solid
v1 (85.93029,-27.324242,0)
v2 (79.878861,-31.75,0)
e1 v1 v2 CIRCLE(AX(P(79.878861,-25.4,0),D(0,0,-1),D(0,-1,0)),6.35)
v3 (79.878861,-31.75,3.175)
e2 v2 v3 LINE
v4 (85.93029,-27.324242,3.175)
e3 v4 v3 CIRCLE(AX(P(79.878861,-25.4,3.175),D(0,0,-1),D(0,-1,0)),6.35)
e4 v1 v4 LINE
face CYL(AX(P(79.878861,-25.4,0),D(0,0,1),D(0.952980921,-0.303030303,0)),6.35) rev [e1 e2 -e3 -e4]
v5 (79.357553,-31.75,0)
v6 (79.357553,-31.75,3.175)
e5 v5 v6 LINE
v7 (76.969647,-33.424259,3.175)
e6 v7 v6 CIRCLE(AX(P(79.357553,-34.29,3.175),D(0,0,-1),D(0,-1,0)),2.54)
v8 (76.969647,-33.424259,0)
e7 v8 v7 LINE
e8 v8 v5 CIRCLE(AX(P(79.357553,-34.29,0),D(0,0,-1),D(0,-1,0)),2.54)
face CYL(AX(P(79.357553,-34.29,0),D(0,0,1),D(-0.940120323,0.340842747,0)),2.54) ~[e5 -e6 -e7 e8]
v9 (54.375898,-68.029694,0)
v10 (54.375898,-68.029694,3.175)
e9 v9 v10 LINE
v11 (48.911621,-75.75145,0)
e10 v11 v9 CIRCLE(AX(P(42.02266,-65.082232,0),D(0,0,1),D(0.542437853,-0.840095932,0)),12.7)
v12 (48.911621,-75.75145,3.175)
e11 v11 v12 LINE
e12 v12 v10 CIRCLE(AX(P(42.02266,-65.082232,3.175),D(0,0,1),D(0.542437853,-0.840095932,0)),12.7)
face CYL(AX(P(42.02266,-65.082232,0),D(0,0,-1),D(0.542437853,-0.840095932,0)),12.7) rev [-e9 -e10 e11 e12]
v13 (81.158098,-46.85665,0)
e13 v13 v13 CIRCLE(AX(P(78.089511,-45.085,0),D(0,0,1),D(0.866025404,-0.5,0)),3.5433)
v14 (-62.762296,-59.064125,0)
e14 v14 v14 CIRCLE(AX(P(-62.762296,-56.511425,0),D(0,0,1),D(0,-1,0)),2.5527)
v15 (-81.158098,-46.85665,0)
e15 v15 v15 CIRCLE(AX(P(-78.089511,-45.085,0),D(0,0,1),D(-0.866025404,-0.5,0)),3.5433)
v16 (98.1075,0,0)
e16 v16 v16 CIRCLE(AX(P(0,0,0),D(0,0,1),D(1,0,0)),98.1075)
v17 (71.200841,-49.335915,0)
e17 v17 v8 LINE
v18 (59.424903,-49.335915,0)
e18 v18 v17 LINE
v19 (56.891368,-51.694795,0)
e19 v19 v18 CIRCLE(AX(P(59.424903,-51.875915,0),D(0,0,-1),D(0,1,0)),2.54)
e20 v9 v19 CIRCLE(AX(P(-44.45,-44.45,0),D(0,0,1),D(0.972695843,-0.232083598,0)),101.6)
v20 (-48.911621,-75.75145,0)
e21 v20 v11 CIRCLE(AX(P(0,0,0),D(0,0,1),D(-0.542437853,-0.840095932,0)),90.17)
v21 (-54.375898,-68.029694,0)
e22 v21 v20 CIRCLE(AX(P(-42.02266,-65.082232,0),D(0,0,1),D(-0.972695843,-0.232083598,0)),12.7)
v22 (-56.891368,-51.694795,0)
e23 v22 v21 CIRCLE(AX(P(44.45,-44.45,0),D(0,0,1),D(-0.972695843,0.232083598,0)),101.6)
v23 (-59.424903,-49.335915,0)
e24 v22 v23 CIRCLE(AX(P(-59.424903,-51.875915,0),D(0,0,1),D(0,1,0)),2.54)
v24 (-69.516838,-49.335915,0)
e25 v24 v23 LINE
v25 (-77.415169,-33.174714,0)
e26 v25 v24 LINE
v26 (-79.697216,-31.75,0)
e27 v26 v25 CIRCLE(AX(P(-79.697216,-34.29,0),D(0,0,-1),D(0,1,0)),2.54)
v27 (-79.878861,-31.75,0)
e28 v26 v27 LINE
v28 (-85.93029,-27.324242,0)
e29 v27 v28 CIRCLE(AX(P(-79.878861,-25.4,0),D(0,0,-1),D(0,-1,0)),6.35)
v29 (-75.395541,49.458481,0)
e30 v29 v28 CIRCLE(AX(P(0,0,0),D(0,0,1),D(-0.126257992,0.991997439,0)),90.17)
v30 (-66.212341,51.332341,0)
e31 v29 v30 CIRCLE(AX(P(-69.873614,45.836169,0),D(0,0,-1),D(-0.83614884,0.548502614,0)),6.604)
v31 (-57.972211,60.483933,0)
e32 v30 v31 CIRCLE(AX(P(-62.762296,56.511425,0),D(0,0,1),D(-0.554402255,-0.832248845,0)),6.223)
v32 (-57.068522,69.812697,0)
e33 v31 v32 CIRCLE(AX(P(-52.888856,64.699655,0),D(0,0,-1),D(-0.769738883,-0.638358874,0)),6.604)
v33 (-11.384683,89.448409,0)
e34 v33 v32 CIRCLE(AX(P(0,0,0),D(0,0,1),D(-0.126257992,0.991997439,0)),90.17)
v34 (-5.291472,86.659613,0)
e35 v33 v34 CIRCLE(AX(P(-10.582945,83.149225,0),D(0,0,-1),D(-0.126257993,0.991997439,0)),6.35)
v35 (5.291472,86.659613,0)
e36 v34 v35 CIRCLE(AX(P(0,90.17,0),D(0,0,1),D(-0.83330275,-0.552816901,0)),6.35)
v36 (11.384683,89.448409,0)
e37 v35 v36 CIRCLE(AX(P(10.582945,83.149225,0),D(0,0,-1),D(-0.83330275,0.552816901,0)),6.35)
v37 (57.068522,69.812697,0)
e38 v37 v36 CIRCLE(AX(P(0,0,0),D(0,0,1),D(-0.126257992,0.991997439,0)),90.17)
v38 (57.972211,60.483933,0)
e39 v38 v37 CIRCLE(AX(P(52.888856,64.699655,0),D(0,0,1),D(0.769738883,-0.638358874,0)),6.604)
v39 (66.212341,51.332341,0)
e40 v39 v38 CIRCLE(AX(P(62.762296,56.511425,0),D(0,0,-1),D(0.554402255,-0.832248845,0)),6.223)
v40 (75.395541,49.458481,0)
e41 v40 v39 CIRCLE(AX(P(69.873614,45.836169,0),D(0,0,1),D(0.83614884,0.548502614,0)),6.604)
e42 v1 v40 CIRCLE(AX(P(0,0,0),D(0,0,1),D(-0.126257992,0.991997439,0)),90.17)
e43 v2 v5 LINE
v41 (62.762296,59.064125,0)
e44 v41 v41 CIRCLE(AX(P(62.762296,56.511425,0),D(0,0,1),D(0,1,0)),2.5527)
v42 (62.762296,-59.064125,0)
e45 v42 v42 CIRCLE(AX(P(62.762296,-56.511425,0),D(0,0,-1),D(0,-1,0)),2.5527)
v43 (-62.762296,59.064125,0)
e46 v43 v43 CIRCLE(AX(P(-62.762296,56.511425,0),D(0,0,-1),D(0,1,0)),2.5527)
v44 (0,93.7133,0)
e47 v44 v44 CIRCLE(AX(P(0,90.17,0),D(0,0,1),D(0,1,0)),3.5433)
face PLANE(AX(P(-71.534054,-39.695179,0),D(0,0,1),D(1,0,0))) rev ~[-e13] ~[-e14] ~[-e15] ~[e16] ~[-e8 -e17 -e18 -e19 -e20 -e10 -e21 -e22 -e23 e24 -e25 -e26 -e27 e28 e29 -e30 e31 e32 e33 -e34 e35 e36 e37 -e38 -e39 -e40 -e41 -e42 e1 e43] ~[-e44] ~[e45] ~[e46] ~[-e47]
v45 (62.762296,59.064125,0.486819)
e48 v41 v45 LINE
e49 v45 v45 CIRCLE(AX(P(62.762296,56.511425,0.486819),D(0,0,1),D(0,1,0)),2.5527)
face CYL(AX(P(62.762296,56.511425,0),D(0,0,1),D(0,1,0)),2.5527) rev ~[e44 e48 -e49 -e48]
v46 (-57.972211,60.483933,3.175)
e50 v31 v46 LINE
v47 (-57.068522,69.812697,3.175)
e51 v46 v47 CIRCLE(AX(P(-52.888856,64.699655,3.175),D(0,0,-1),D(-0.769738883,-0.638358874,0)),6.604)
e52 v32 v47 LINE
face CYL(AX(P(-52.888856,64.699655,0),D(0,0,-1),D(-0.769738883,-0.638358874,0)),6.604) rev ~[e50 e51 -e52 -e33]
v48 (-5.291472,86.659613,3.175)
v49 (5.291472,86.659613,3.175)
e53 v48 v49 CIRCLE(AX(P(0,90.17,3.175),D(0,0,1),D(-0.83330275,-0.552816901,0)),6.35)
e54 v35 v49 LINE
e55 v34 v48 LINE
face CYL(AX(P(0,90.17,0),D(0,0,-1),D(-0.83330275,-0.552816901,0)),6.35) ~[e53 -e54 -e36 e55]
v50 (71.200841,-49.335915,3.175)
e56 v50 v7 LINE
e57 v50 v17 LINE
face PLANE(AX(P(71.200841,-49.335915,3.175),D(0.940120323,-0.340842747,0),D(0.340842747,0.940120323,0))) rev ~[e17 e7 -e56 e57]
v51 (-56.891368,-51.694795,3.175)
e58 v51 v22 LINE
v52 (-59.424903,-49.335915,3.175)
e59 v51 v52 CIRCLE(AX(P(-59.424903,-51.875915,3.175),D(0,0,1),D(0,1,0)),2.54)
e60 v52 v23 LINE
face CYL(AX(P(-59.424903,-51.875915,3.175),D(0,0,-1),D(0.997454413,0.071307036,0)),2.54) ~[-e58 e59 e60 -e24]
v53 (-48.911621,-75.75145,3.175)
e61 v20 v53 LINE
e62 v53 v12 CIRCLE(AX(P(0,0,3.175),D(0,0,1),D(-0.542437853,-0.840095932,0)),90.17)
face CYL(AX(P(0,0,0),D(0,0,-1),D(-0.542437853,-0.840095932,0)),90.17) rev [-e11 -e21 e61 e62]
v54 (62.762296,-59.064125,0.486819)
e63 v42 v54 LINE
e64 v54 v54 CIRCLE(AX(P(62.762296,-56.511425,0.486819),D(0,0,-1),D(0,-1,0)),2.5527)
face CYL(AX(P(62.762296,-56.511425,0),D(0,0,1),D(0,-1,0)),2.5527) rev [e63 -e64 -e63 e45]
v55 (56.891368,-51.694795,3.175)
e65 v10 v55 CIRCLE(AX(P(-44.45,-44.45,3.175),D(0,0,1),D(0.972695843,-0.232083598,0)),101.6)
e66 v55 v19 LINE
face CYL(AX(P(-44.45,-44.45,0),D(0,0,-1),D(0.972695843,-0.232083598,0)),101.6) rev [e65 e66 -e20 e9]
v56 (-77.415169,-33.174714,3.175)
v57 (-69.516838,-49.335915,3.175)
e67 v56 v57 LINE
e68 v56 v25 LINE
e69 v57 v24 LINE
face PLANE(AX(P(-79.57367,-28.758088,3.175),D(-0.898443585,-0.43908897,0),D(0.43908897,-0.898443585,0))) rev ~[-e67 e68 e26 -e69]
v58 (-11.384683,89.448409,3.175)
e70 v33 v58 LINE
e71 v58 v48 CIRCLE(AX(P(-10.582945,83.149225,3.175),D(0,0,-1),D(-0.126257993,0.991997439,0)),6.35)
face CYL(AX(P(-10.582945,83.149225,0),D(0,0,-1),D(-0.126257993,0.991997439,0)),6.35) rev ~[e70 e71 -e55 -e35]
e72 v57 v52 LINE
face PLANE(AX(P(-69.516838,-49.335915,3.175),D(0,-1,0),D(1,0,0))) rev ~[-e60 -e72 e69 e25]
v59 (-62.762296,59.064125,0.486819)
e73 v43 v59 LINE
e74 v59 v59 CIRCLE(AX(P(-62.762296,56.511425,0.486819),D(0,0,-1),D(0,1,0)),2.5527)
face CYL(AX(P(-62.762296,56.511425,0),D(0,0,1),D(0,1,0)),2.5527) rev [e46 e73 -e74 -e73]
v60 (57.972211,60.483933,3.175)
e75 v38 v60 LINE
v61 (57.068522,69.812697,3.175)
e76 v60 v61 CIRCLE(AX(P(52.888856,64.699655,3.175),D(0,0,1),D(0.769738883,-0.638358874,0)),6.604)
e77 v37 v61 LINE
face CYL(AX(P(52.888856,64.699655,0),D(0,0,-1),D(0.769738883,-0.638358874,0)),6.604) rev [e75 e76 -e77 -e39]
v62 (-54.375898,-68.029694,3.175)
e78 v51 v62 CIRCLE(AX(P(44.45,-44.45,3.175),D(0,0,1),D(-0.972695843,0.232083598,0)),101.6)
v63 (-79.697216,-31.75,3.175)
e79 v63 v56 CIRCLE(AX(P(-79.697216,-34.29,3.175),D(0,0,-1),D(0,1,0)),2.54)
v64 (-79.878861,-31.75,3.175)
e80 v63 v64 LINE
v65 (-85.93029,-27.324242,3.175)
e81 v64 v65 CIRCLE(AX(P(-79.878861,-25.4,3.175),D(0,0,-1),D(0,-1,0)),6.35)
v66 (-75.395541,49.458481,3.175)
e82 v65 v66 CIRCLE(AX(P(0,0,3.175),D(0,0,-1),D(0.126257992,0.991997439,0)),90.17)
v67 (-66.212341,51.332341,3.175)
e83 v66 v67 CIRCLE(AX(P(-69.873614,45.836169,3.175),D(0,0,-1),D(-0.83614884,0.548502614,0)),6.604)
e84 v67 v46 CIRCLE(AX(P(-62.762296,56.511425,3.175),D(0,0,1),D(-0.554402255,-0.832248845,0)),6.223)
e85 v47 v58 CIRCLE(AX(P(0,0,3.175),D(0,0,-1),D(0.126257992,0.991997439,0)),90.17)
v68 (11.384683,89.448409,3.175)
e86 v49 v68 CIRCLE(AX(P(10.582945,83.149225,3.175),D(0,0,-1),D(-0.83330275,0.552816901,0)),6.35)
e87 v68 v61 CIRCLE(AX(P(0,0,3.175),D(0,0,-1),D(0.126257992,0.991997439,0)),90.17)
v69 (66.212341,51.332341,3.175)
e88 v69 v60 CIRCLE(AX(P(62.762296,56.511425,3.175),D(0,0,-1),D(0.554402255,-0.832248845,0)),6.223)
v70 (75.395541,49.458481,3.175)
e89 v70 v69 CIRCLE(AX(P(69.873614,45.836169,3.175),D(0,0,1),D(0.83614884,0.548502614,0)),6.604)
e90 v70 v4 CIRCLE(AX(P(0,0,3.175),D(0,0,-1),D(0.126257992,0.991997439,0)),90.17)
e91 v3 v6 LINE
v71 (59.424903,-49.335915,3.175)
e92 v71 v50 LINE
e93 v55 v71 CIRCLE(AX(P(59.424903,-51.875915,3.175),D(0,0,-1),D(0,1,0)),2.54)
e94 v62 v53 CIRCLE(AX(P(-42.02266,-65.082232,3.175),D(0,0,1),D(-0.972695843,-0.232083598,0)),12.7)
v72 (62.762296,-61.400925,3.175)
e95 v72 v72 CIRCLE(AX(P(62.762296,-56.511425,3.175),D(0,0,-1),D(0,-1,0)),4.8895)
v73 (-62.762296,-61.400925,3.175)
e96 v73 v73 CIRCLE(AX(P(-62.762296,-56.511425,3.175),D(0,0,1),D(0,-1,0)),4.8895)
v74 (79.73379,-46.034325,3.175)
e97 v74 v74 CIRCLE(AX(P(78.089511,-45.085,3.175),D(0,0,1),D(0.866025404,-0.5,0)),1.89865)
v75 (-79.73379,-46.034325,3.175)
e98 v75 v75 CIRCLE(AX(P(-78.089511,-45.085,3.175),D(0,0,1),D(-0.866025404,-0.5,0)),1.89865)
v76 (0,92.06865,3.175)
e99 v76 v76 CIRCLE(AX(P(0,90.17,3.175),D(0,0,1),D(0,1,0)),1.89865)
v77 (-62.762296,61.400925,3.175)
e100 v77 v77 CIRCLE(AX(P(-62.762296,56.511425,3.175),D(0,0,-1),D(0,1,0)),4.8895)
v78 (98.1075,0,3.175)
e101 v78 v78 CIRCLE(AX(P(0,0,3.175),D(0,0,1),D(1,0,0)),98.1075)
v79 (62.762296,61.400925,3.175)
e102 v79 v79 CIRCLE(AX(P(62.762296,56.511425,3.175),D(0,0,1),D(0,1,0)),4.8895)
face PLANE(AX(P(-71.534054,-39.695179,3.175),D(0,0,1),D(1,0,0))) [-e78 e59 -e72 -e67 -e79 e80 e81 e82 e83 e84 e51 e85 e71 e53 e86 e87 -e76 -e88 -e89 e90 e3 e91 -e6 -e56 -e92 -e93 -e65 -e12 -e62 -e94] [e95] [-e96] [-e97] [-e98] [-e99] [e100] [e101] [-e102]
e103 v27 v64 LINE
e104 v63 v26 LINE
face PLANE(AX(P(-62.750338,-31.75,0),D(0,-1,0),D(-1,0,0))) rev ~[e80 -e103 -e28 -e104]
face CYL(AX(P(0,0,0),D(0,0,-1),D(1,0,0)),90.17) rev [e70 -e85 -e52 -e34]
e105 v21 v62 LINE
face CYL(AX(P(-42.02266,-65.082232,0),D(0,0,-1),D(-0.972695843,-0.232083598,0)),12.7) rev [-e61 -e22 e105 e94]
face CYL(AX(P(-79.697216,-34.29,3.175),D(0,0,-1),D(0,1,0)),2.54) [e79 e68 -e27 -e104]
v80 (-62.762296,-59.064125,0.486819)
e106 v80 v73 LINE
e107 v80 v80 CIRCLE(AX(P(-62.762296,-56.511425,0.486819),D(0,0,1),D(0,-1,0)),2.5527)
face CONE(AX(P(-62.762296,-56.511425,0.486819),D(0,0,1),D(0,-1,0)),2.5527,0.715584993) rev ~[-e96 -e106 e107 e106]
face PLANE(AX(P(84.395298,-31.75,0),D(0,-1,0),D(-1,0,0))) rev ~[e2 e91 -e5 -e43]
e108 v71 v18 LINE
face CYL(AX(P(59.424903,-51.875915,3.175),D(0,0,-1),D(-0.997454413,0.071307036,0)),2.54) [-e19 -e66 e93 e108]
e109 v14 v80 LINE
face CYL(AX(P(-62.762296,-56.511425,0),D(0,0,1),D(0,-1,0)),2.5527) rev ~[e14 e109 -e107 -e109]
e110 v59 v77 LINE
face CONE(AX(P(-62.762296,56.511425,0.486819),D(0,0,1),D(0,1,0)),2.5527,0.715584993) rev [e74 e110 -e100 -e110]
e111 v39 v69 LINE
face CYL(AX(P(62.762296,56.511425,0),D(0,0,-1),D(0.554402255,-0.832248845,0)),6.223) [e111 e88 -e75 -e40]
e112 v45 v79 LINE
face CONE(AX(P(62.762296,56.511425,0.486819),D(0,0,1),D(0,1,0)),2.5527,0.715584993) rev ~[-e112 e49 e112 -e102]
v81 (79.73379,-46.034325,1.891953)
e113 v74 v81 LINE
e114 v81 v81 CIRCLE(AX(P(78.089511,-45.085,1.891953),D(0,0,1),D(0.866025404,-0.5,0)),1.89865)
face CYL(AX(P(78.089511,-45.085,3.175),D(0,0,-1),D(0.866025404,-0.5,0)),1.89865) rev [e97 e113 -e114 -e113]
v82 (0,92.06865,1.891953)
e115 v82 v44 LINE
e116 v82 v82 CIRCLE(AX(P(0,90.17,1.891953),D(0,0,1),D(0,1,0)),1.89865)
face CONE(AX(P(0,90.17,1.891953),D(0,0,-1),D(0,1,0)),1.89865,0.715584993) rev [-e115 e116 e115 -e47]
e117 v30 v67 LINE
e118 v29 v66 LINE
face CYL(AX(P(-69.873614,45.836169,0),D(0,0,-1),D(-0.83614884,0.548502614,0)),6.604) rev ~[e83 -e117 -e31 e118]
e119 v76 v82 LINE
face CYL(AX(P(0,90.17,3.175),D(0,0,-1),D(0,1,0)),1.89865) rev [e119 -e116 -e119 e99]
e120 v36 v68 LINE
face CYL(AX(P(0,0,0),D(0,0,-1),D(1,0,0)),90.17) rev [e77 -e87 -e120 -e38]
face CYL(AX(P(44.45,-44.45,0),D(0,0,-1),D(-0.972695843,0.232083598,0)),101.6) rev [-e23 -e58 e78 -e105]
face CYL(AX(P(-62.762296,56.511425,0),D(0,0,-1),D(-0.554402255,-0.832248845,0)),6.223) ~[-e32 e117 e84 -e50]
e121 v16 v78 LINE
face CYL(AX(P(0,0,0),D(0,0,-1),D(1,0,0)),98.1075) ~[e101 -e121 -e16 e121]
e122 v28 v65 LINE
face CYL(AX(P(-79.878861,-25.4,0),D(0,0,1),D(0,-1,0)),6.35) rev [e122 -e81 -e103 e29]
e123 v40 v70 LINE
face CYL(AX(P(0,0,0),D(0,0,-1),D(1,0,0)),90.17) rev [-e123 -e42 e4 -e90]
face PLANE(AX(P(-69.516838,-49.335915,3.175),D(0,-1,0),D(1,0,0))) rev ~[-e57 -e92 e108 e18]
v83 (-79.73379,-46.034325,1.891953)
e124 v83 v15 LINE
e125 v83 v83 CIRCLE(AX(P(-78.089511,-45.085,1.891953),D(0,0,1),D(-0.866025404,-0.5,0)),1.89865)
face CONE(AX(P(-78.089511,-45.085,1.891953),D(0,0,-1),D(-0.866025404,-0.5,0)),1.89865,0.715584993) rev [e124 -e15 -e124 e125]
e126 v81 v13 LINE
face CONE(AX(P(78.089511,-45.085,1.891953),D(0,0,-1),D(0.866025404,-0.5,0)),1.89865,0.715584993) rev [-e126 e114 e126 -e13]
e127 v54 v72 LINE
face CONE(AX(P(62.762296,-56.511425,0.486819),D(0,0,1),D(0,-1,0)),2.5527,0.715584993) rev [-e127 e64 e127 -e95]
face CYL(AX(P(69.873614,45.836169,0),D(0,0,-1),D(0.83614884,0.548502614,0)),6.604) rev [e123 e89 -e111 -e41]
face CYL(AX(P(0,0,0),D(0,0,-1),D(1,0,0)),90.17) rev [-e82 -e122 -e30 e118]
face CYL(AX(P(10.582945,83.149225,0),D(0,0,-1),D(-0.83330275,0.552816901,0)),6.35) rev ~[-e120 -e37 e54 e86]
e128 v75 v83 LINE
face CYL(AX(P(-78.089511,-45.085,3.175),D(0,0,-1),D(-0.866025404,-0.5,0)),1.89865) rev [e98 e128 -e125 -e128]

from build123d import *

# Parameters (mm, degrees)
SKETCH1_R                 = 98.1075
SKETCH1_R_2               = 90.17
BOSS_EXTRUDE1_DEPTH       = 3.175
BOSS_EXTRUDE2_START       = -3.175
BOSS_EXTRUDE2_DEPTH       = 3.175
BOSS_EXTRUDE3_START       = -3.175
BOSS_EXTRUDE3_DEPTH       = 3.175
BOSS_EXTRUDE5_DEPTH       = 3.175
MIRROR2_START             = -3.175
MIRROR2_COPY_1_DEPTH      = 3.175
CIRPATTERN1_COUNT         = 3
FILLET1_R                 = 3.175
BOSS_EXTRUDE6_START       = -3.175
BOSS_EXTRUDE6_DEPTH       = 3.175
FILLET2_R                 = 6.35
F_6_CLEARANCE_HOLE1_D     = 3.7973
F_6_CLEARANCE_HOLE1_DEPTH = 6.35
F_6_CLEARANCE_HOLE1_TIP   = 1.140824014
CUT_EXTRUDE1_DEPTH        = 139.781280213
FILLET3_R                 = 2.54


with BuildPart() as part:
    # Sketch1 → Boss-Extrude1 (new body)
    with BuildSketch(Plane.XY):
        Circle(SKETCH1_R)
        Circle(SKETCH1_R_2, mode=Mode.SUBTRACT)
    extrude(amount=BOSS_EXTRUDE1_DEPTH)

    # Sketch2 → Boss-Extrude2 (add)
    with BuildSketch(Plane.XY.offset(3.175).offset(BOSS_EXTRUDE2_START)):
        with BuildLine():
            ThreePointArc((-5.291472464, 86.659612676), (0, 83.82), (5.291472464, 86.659612676))
            ThreePointArc((5.291472464, 86.659612676), (7.940261692, 88.923194985), (11.38468318, 89.448409091))
            ThreePointArc((11.38468318, 89.448409091), (0, 90.17), (-11.38468318, 89.448409091))
            ThreePointArc((-11.38468318, 89.448409091), (-7.940261692, 88.923194985), (-5.291472464, 86.659612676))
        make_face()
    boss_extrude2 = extrude(amount=BOSS_EXTRUDE2_DEPTH)

    # Sketch9 → Boss-Extrude3 (add)
    with BuildSketch(Plane.XY.offset(3.175).offset(BOSS_EXTRUDE3_START)):
        with BuildLine():
            ThreePointArc((66.212341469, -51.332340799), (58.137705987, -52.347425597), (57.972211169, -60.483932635))
            ThreePointArc((57.972211169, -60.483932635), (59.462085873, -65.336411741), (57.068521986, -69.812697257))
            ThreePointArc((57.068521986, -69.812697257), (67.009368913, -60.335506775), (75.395540901, -49.458480691))
            ThreePointArc((75.395540901, -49.458480691), (71.1939725, -52.306831631), (66.212341469, -51.332340799))
        make_face()
    boss_extrude3 = extrude(amount=BOSS_EXTRUDE3_DEPTH)

    # Sketch11 → Boss-Extrude5 (add)
    with BuildSketch(Plane.XY):
        with BuildLine():
            ThreePointArc((-60.552516274, -19.396575562), (-63.5, -44.45), (-60.552516274, -69.503424438))
            ThreePointArc((-60.552516274, -69.503424438), (-57.572960629, -76.08635224), (-52.356101558, -81.086059404))
            ThreePointArc((-52.356101558, -81.086059404), (0, -96.52), (52.356101558, -81.086059404))
            ThreePointArc((52.356101558, -81.086059404), (57.572960629, -76.08635224), (60.552516274, -69.503424438))
            ThreePointArc((60.552516274, -69.503424438), (63.5, -44.45), (60.552516274, -19.396575562))
            ThreePointArc((60.552516274, -19.396575562), (57.572960629, -12.81364776), (52.356101558, -7.813940596))
            ThreePointArc((52.356101558, -7.813940596), (0, 7.62), (-52.356101558, -7.813940596))
            ThreePointArc((-52.356101558, -7.813940596), (-57.572960629, -12.81364776), (-60.552516274, -19.396575562))
        make_face()
        with BuildLine():
            ThreePointArc((48.911621193, -13.148549768), (0, 1.27), (-48.911621193, -13.148549768))
            ThreePointArc((-48.911621193, -13.148549768), (-52.38952724, -16.481687877), (-54.37589767, -20.870306412))
            ThreePointArc((-54.37589767, -20.870306412), (-57.15, -44.45), (-54.37589767, -68.029693588))
            ThreePointArc((-54.37589767, -68.029693588), (-52.38952724, -72.418312123), (-48.911621193, -75.751450232))
            ThreePointArc((-48.911621193, -75.751450232), (0, -90.17), (48.911621193, -75.751450232))
            ThreePointArc((48.911621193, -75.751450232), (52.38952724, -72.418312123), (54.37589767, -68.029693588))
            ThreePointArc((54.37589767, -68.029693588), (57.15, -44.45), (54.37589767, -20.870306412))
            ThreePointArc((54.37589767, -20.870306412), (52.38952724, -16.481687877), (48.911621193, -13.148549768))
        make_face(mode=Mode.SUBTRACT)
    extrude(amount=BOSS_EXTRUDE5_DEPTH)

    # Sketch3 → CSK for #10 Flat Head Machine Screw1 (revolve, cut)
    with BuildSketch(Plane(origin=(62.762296236, -56.51142536, 3.175), x_dir=(0, -1, 0), z_dir=(1, 0, 0))):
        Polygon((0, 0), (0, 3.175), (2.5527, 3.175), (2.5527, 2.688180894), (4.8895, 0), align=None)
    csk_for_10_flat_head_machine_screw1 = revolve(axis=Axis((62.762296236, -56.51142536, 9.525), (0, 0, -1)), mode=Mode.SUBTRACT)

    # Sketch7 → CSK for #6 Flat Head Machine Screw1 (revolve, cut)
    with BuildSketch(Plane(origin=(0, 90.17, 0), x_dir=(0, 1, 0), z_dir=(1, 0, 0))):
        Polygon((0, 0), (0, 3.175), (1.89865, 3.175), (1.89865, 1.891953401), (3.5433, 0), align=None)
    csk_for_6_flat_head_machine_screw1 = revolve(axis=Axis((0, 90.17, -6.35), (0, 0, 1)), mode=Mode.SUBTRACT)

    # Mirror1: Boss-Extrude3, CSK for #10 Flat Head Machine Screw1 across plane
    add(boss_extrude3.mirror(Plane.ZX))
    add(csk_for_10_flat_head_machine_screw1.mirror(Plane.ZX), mode=Mode.SUBTRACT)

    # Mirror2: Boss-Extrude3, CSK for #10 Flat Head Machine Screw1 across plane
    add(boss_extrude3.mirror(Plane(origin=(0, 0, 0), x_dir=(0, 0, 1), z_dir=(1, 0, 0))))
    add(csk_for_10_flat_head_machine_screw1.mirror(Plane(origin=(0, 0, 0), x_dir=(0, 0, 1), z_dir=(1, 0, 0))), mode=Mode.SUBTRACT)

    # Mirror2 copy 1 sketch → Mirror2 copy 1 (add)
    with BuildSketch(Plane(origin=(0, 0, 3.175), x_dir=(-1, 0, 0), z_dir=(0, 0, 1)).offset(MIRROR2_START)):
        with BuildLine():
            ThreePointArc((66.212341469, -51.332340799), (58.137705987, -52.347425597), (57.972211169, -60.483932635))
            ThreePointArc((57.972211169, -60.483932635), (59.462085873, -65.336411741), (57.068521986, -69.812697257))
            ThreePointArc((57.068521986, -69.812697257), (67.009368913, -60.335506775), (75.395540901, -49.458480691))
            ThreePointArc((75.395540901, -49.458480691), (71.1939725, -52.306831631), (66.212341469, -51.332340799))
        make_face()
    extrude(amount=MIRROR2_COPY_1_DEPTH)

    # Mirror2 copy 2 sketch → Mirror2 copy 2 (revolve, cut)
    with BuildSketch(Plane(origin=(-62.762296236, 56.51142536, 3.175), x_dir=(0, 1, 0), z_dir=(-1, 0, 0))):
        Polygon((0, 0), (0, 3.175), (2.5527, 3.175), (2.5527, 2.688180894), (4.8895, 0), align=None)
    revolve(axis=Axis((-62.762296236, 56.51142536, 9.525), (0, 0, -1)), mode=Mode.SUBTRACT)

    # CirPattern1: Boss-Extrude2, CSK for #6 Flat Head Machine Screw1 ×3 about axis
    cirpattern1_axis = Axis((0, 0, 0), (0, 0, 1))
    add([boss_extrude2.rotate(cirpattern1_axis, i * 360 / CIRPATTERN1_COUNT) for i in range(1, CIRPATTERN1_COUNT)])
    add([csk_for_6_flat_head_machine_screw1.rotate(cirpattern1_axis, i * 360 / CIRPATTERN1_COUNT) for i in range(1, CIRPATTERN1_COUNT)], mode=Mode.SUBTRACT)

    # Fillet1
    fillet1_edges = [part.edges().sort_by_distance(p)[0] for p in [
        (-63.34053847, -50.315348785, 1.5875),
        (63.34053847, -50.315348785, 1.5875),
    ]]
    fillet(fillet1_edges, radius=FILLET1_R)

    # Sketch13 → Boss-Extrude6 (add)
    with BuildSketch(Plane.XY.offset(3.175).offset(BOSS_EXTRUDE6_START)):
        with BuildLine():
            Line((-62.750338152, -31.75), (-84.395298447, -31.75))
            ThreePointArc((-84.395298447, -31.75), (-83.790591931, -33.31314461), (-83.156936191, -34.864779698))
            ThreePointArc((-83.156936191, -34.864779698), (-80.979876688, -37.585129154), (-77.695162292, -38.747256761))
            ThreePointArc((-77.695162292, -38.747256761), (-72.590249345, -41.91), (-72.403689828, -47.912355915))
            ThreePointArc((-72.403689828, -47.912355915), (-72.988143244, -49.736636134), (-73.00196491, -51.652202127))
            ThreePointArc((-73.00196491, -51.652202127), (-69.562842084, -52.432853205), (-66.212341469, -51.332340799))
            ThreePointArc((-66.212341469, -51.332340799), (-65.774776399, -51.066180438), (-65.316806621, -50.836902852))
            ThreePointArc((-65.316806621, -50.836902852), (-63.927038857, -49.623372793), (-63.44669601, -47.841974356))
            ThreePointArc((-63.44669601, -47.841974356), (-63.39906785, -39.78298126), (-62.750338152, -31.75))
        make_face()
        with BuildLine():
            Line((84.395298447, -31.75), (62.750338152, -31.75))
            ThreePointArc((62.750338152, -31.75), (63.39906785, -39.78298126), (63.44669601, -47.841974356))
            ThreePointArc((63.44669601, -47.841974356), (63.927038857, -49.623372793), (65.316806621, -50.836902852))
            ThreePointArc((65.316806621, -50.836902852), (65.774776399, -51.066180438), (66.212341469, -51.332340799))
            ThreePointArc((66.212341469, -51.332340799), (69.562842084, -52.432853205), (73.00196491, -51.652202127))
            ThreePointArc((73.00196491, -51.652202127), (72.988143244, -49.736636134), (72.403689828, -47.912355915))
            ThreePointArc((72.403689828, -47.912355915), (72.590249345, -41.91), (77.695162292, -38.747256761))
            ThreePointArc((77.695162292, -38.747256761), (80.979876688, -37.585129154), (83.156936191, -34.864779698))
            ThreePointArc((83.156936191, -34.864779698), (83.790591931, -33.31314461), (84.395298447, -31.75))
        make_face()
    extrude(amount=BOSS_EXTRUDE6_DEPTH)

    # Fillet2
    fillet2_edges = [part.edges().sort_by_distance(p)[0] for p in [
        (-62.750338152, -31.75, 1.5875),
        (-84.395298447, -31.75, 1.5875),
        (84.395298447, -31.75, 1.5875),
        (62.750338152, -31.75, 1.5875),
    ]]
    fillet(fillet2_edges, radius=FILLET2_R)

    # #6 Clearance Hole1
    with Locations(Plane.XY.offset(3.175)):
        with Locations((-66.675, -44.45), (66.675, -44.45)):
            Hole(F_6_CLEARANCE_HOLE1_D / 2, depth=F_6_CLEARANCE_HOLE1_DEPTH)
            with Locations((0, 0, -(F_6_CLEARANCE_HOLE1_DEPTH + F_6_CLEARANCE_HOLE1_TIP / 2))):  # 118° drill point
                Cone(0, F_6_CLEARANCE_HOLE1_D / 2, F_6_CLEARANCE_HOLE1_TIP, mode=Mode.SUBTRACT)

    # Sketch16 → Cut-Extrude1 (cut, through all)
    with BuildSketch(Plane.XY.offset(3.175)):
        Polygon((-79.573670406, -28.758087868), (-69.516837715, -49.335914757), (-54.97311044, -49.335914757), (71.200840815, -49.335914757), (78.661378441, -28.758087868), (74.931109628, 37.993907033), (-79.573670406, 37.993907033), align=None)
    extrude(amount=-CUT_EXTRUDE1_DEPTH, mode=Mode.SUBTRACT)

    # Fillet3
    fillet3_edges = [part.edges().sort_by_distance(p)[0] for p in [
        (77.576653938, -31.75, 1.5875),
        (-78.111457709, -31.75, 1.5875),
        (57.032450882, -49.335914757, 1.5875),
        (-57.032450882, -49.335914757, 1.5875),
    ]]
    fillet(fillet3_edges, radius=FILLET3_R)


solid = part.part
